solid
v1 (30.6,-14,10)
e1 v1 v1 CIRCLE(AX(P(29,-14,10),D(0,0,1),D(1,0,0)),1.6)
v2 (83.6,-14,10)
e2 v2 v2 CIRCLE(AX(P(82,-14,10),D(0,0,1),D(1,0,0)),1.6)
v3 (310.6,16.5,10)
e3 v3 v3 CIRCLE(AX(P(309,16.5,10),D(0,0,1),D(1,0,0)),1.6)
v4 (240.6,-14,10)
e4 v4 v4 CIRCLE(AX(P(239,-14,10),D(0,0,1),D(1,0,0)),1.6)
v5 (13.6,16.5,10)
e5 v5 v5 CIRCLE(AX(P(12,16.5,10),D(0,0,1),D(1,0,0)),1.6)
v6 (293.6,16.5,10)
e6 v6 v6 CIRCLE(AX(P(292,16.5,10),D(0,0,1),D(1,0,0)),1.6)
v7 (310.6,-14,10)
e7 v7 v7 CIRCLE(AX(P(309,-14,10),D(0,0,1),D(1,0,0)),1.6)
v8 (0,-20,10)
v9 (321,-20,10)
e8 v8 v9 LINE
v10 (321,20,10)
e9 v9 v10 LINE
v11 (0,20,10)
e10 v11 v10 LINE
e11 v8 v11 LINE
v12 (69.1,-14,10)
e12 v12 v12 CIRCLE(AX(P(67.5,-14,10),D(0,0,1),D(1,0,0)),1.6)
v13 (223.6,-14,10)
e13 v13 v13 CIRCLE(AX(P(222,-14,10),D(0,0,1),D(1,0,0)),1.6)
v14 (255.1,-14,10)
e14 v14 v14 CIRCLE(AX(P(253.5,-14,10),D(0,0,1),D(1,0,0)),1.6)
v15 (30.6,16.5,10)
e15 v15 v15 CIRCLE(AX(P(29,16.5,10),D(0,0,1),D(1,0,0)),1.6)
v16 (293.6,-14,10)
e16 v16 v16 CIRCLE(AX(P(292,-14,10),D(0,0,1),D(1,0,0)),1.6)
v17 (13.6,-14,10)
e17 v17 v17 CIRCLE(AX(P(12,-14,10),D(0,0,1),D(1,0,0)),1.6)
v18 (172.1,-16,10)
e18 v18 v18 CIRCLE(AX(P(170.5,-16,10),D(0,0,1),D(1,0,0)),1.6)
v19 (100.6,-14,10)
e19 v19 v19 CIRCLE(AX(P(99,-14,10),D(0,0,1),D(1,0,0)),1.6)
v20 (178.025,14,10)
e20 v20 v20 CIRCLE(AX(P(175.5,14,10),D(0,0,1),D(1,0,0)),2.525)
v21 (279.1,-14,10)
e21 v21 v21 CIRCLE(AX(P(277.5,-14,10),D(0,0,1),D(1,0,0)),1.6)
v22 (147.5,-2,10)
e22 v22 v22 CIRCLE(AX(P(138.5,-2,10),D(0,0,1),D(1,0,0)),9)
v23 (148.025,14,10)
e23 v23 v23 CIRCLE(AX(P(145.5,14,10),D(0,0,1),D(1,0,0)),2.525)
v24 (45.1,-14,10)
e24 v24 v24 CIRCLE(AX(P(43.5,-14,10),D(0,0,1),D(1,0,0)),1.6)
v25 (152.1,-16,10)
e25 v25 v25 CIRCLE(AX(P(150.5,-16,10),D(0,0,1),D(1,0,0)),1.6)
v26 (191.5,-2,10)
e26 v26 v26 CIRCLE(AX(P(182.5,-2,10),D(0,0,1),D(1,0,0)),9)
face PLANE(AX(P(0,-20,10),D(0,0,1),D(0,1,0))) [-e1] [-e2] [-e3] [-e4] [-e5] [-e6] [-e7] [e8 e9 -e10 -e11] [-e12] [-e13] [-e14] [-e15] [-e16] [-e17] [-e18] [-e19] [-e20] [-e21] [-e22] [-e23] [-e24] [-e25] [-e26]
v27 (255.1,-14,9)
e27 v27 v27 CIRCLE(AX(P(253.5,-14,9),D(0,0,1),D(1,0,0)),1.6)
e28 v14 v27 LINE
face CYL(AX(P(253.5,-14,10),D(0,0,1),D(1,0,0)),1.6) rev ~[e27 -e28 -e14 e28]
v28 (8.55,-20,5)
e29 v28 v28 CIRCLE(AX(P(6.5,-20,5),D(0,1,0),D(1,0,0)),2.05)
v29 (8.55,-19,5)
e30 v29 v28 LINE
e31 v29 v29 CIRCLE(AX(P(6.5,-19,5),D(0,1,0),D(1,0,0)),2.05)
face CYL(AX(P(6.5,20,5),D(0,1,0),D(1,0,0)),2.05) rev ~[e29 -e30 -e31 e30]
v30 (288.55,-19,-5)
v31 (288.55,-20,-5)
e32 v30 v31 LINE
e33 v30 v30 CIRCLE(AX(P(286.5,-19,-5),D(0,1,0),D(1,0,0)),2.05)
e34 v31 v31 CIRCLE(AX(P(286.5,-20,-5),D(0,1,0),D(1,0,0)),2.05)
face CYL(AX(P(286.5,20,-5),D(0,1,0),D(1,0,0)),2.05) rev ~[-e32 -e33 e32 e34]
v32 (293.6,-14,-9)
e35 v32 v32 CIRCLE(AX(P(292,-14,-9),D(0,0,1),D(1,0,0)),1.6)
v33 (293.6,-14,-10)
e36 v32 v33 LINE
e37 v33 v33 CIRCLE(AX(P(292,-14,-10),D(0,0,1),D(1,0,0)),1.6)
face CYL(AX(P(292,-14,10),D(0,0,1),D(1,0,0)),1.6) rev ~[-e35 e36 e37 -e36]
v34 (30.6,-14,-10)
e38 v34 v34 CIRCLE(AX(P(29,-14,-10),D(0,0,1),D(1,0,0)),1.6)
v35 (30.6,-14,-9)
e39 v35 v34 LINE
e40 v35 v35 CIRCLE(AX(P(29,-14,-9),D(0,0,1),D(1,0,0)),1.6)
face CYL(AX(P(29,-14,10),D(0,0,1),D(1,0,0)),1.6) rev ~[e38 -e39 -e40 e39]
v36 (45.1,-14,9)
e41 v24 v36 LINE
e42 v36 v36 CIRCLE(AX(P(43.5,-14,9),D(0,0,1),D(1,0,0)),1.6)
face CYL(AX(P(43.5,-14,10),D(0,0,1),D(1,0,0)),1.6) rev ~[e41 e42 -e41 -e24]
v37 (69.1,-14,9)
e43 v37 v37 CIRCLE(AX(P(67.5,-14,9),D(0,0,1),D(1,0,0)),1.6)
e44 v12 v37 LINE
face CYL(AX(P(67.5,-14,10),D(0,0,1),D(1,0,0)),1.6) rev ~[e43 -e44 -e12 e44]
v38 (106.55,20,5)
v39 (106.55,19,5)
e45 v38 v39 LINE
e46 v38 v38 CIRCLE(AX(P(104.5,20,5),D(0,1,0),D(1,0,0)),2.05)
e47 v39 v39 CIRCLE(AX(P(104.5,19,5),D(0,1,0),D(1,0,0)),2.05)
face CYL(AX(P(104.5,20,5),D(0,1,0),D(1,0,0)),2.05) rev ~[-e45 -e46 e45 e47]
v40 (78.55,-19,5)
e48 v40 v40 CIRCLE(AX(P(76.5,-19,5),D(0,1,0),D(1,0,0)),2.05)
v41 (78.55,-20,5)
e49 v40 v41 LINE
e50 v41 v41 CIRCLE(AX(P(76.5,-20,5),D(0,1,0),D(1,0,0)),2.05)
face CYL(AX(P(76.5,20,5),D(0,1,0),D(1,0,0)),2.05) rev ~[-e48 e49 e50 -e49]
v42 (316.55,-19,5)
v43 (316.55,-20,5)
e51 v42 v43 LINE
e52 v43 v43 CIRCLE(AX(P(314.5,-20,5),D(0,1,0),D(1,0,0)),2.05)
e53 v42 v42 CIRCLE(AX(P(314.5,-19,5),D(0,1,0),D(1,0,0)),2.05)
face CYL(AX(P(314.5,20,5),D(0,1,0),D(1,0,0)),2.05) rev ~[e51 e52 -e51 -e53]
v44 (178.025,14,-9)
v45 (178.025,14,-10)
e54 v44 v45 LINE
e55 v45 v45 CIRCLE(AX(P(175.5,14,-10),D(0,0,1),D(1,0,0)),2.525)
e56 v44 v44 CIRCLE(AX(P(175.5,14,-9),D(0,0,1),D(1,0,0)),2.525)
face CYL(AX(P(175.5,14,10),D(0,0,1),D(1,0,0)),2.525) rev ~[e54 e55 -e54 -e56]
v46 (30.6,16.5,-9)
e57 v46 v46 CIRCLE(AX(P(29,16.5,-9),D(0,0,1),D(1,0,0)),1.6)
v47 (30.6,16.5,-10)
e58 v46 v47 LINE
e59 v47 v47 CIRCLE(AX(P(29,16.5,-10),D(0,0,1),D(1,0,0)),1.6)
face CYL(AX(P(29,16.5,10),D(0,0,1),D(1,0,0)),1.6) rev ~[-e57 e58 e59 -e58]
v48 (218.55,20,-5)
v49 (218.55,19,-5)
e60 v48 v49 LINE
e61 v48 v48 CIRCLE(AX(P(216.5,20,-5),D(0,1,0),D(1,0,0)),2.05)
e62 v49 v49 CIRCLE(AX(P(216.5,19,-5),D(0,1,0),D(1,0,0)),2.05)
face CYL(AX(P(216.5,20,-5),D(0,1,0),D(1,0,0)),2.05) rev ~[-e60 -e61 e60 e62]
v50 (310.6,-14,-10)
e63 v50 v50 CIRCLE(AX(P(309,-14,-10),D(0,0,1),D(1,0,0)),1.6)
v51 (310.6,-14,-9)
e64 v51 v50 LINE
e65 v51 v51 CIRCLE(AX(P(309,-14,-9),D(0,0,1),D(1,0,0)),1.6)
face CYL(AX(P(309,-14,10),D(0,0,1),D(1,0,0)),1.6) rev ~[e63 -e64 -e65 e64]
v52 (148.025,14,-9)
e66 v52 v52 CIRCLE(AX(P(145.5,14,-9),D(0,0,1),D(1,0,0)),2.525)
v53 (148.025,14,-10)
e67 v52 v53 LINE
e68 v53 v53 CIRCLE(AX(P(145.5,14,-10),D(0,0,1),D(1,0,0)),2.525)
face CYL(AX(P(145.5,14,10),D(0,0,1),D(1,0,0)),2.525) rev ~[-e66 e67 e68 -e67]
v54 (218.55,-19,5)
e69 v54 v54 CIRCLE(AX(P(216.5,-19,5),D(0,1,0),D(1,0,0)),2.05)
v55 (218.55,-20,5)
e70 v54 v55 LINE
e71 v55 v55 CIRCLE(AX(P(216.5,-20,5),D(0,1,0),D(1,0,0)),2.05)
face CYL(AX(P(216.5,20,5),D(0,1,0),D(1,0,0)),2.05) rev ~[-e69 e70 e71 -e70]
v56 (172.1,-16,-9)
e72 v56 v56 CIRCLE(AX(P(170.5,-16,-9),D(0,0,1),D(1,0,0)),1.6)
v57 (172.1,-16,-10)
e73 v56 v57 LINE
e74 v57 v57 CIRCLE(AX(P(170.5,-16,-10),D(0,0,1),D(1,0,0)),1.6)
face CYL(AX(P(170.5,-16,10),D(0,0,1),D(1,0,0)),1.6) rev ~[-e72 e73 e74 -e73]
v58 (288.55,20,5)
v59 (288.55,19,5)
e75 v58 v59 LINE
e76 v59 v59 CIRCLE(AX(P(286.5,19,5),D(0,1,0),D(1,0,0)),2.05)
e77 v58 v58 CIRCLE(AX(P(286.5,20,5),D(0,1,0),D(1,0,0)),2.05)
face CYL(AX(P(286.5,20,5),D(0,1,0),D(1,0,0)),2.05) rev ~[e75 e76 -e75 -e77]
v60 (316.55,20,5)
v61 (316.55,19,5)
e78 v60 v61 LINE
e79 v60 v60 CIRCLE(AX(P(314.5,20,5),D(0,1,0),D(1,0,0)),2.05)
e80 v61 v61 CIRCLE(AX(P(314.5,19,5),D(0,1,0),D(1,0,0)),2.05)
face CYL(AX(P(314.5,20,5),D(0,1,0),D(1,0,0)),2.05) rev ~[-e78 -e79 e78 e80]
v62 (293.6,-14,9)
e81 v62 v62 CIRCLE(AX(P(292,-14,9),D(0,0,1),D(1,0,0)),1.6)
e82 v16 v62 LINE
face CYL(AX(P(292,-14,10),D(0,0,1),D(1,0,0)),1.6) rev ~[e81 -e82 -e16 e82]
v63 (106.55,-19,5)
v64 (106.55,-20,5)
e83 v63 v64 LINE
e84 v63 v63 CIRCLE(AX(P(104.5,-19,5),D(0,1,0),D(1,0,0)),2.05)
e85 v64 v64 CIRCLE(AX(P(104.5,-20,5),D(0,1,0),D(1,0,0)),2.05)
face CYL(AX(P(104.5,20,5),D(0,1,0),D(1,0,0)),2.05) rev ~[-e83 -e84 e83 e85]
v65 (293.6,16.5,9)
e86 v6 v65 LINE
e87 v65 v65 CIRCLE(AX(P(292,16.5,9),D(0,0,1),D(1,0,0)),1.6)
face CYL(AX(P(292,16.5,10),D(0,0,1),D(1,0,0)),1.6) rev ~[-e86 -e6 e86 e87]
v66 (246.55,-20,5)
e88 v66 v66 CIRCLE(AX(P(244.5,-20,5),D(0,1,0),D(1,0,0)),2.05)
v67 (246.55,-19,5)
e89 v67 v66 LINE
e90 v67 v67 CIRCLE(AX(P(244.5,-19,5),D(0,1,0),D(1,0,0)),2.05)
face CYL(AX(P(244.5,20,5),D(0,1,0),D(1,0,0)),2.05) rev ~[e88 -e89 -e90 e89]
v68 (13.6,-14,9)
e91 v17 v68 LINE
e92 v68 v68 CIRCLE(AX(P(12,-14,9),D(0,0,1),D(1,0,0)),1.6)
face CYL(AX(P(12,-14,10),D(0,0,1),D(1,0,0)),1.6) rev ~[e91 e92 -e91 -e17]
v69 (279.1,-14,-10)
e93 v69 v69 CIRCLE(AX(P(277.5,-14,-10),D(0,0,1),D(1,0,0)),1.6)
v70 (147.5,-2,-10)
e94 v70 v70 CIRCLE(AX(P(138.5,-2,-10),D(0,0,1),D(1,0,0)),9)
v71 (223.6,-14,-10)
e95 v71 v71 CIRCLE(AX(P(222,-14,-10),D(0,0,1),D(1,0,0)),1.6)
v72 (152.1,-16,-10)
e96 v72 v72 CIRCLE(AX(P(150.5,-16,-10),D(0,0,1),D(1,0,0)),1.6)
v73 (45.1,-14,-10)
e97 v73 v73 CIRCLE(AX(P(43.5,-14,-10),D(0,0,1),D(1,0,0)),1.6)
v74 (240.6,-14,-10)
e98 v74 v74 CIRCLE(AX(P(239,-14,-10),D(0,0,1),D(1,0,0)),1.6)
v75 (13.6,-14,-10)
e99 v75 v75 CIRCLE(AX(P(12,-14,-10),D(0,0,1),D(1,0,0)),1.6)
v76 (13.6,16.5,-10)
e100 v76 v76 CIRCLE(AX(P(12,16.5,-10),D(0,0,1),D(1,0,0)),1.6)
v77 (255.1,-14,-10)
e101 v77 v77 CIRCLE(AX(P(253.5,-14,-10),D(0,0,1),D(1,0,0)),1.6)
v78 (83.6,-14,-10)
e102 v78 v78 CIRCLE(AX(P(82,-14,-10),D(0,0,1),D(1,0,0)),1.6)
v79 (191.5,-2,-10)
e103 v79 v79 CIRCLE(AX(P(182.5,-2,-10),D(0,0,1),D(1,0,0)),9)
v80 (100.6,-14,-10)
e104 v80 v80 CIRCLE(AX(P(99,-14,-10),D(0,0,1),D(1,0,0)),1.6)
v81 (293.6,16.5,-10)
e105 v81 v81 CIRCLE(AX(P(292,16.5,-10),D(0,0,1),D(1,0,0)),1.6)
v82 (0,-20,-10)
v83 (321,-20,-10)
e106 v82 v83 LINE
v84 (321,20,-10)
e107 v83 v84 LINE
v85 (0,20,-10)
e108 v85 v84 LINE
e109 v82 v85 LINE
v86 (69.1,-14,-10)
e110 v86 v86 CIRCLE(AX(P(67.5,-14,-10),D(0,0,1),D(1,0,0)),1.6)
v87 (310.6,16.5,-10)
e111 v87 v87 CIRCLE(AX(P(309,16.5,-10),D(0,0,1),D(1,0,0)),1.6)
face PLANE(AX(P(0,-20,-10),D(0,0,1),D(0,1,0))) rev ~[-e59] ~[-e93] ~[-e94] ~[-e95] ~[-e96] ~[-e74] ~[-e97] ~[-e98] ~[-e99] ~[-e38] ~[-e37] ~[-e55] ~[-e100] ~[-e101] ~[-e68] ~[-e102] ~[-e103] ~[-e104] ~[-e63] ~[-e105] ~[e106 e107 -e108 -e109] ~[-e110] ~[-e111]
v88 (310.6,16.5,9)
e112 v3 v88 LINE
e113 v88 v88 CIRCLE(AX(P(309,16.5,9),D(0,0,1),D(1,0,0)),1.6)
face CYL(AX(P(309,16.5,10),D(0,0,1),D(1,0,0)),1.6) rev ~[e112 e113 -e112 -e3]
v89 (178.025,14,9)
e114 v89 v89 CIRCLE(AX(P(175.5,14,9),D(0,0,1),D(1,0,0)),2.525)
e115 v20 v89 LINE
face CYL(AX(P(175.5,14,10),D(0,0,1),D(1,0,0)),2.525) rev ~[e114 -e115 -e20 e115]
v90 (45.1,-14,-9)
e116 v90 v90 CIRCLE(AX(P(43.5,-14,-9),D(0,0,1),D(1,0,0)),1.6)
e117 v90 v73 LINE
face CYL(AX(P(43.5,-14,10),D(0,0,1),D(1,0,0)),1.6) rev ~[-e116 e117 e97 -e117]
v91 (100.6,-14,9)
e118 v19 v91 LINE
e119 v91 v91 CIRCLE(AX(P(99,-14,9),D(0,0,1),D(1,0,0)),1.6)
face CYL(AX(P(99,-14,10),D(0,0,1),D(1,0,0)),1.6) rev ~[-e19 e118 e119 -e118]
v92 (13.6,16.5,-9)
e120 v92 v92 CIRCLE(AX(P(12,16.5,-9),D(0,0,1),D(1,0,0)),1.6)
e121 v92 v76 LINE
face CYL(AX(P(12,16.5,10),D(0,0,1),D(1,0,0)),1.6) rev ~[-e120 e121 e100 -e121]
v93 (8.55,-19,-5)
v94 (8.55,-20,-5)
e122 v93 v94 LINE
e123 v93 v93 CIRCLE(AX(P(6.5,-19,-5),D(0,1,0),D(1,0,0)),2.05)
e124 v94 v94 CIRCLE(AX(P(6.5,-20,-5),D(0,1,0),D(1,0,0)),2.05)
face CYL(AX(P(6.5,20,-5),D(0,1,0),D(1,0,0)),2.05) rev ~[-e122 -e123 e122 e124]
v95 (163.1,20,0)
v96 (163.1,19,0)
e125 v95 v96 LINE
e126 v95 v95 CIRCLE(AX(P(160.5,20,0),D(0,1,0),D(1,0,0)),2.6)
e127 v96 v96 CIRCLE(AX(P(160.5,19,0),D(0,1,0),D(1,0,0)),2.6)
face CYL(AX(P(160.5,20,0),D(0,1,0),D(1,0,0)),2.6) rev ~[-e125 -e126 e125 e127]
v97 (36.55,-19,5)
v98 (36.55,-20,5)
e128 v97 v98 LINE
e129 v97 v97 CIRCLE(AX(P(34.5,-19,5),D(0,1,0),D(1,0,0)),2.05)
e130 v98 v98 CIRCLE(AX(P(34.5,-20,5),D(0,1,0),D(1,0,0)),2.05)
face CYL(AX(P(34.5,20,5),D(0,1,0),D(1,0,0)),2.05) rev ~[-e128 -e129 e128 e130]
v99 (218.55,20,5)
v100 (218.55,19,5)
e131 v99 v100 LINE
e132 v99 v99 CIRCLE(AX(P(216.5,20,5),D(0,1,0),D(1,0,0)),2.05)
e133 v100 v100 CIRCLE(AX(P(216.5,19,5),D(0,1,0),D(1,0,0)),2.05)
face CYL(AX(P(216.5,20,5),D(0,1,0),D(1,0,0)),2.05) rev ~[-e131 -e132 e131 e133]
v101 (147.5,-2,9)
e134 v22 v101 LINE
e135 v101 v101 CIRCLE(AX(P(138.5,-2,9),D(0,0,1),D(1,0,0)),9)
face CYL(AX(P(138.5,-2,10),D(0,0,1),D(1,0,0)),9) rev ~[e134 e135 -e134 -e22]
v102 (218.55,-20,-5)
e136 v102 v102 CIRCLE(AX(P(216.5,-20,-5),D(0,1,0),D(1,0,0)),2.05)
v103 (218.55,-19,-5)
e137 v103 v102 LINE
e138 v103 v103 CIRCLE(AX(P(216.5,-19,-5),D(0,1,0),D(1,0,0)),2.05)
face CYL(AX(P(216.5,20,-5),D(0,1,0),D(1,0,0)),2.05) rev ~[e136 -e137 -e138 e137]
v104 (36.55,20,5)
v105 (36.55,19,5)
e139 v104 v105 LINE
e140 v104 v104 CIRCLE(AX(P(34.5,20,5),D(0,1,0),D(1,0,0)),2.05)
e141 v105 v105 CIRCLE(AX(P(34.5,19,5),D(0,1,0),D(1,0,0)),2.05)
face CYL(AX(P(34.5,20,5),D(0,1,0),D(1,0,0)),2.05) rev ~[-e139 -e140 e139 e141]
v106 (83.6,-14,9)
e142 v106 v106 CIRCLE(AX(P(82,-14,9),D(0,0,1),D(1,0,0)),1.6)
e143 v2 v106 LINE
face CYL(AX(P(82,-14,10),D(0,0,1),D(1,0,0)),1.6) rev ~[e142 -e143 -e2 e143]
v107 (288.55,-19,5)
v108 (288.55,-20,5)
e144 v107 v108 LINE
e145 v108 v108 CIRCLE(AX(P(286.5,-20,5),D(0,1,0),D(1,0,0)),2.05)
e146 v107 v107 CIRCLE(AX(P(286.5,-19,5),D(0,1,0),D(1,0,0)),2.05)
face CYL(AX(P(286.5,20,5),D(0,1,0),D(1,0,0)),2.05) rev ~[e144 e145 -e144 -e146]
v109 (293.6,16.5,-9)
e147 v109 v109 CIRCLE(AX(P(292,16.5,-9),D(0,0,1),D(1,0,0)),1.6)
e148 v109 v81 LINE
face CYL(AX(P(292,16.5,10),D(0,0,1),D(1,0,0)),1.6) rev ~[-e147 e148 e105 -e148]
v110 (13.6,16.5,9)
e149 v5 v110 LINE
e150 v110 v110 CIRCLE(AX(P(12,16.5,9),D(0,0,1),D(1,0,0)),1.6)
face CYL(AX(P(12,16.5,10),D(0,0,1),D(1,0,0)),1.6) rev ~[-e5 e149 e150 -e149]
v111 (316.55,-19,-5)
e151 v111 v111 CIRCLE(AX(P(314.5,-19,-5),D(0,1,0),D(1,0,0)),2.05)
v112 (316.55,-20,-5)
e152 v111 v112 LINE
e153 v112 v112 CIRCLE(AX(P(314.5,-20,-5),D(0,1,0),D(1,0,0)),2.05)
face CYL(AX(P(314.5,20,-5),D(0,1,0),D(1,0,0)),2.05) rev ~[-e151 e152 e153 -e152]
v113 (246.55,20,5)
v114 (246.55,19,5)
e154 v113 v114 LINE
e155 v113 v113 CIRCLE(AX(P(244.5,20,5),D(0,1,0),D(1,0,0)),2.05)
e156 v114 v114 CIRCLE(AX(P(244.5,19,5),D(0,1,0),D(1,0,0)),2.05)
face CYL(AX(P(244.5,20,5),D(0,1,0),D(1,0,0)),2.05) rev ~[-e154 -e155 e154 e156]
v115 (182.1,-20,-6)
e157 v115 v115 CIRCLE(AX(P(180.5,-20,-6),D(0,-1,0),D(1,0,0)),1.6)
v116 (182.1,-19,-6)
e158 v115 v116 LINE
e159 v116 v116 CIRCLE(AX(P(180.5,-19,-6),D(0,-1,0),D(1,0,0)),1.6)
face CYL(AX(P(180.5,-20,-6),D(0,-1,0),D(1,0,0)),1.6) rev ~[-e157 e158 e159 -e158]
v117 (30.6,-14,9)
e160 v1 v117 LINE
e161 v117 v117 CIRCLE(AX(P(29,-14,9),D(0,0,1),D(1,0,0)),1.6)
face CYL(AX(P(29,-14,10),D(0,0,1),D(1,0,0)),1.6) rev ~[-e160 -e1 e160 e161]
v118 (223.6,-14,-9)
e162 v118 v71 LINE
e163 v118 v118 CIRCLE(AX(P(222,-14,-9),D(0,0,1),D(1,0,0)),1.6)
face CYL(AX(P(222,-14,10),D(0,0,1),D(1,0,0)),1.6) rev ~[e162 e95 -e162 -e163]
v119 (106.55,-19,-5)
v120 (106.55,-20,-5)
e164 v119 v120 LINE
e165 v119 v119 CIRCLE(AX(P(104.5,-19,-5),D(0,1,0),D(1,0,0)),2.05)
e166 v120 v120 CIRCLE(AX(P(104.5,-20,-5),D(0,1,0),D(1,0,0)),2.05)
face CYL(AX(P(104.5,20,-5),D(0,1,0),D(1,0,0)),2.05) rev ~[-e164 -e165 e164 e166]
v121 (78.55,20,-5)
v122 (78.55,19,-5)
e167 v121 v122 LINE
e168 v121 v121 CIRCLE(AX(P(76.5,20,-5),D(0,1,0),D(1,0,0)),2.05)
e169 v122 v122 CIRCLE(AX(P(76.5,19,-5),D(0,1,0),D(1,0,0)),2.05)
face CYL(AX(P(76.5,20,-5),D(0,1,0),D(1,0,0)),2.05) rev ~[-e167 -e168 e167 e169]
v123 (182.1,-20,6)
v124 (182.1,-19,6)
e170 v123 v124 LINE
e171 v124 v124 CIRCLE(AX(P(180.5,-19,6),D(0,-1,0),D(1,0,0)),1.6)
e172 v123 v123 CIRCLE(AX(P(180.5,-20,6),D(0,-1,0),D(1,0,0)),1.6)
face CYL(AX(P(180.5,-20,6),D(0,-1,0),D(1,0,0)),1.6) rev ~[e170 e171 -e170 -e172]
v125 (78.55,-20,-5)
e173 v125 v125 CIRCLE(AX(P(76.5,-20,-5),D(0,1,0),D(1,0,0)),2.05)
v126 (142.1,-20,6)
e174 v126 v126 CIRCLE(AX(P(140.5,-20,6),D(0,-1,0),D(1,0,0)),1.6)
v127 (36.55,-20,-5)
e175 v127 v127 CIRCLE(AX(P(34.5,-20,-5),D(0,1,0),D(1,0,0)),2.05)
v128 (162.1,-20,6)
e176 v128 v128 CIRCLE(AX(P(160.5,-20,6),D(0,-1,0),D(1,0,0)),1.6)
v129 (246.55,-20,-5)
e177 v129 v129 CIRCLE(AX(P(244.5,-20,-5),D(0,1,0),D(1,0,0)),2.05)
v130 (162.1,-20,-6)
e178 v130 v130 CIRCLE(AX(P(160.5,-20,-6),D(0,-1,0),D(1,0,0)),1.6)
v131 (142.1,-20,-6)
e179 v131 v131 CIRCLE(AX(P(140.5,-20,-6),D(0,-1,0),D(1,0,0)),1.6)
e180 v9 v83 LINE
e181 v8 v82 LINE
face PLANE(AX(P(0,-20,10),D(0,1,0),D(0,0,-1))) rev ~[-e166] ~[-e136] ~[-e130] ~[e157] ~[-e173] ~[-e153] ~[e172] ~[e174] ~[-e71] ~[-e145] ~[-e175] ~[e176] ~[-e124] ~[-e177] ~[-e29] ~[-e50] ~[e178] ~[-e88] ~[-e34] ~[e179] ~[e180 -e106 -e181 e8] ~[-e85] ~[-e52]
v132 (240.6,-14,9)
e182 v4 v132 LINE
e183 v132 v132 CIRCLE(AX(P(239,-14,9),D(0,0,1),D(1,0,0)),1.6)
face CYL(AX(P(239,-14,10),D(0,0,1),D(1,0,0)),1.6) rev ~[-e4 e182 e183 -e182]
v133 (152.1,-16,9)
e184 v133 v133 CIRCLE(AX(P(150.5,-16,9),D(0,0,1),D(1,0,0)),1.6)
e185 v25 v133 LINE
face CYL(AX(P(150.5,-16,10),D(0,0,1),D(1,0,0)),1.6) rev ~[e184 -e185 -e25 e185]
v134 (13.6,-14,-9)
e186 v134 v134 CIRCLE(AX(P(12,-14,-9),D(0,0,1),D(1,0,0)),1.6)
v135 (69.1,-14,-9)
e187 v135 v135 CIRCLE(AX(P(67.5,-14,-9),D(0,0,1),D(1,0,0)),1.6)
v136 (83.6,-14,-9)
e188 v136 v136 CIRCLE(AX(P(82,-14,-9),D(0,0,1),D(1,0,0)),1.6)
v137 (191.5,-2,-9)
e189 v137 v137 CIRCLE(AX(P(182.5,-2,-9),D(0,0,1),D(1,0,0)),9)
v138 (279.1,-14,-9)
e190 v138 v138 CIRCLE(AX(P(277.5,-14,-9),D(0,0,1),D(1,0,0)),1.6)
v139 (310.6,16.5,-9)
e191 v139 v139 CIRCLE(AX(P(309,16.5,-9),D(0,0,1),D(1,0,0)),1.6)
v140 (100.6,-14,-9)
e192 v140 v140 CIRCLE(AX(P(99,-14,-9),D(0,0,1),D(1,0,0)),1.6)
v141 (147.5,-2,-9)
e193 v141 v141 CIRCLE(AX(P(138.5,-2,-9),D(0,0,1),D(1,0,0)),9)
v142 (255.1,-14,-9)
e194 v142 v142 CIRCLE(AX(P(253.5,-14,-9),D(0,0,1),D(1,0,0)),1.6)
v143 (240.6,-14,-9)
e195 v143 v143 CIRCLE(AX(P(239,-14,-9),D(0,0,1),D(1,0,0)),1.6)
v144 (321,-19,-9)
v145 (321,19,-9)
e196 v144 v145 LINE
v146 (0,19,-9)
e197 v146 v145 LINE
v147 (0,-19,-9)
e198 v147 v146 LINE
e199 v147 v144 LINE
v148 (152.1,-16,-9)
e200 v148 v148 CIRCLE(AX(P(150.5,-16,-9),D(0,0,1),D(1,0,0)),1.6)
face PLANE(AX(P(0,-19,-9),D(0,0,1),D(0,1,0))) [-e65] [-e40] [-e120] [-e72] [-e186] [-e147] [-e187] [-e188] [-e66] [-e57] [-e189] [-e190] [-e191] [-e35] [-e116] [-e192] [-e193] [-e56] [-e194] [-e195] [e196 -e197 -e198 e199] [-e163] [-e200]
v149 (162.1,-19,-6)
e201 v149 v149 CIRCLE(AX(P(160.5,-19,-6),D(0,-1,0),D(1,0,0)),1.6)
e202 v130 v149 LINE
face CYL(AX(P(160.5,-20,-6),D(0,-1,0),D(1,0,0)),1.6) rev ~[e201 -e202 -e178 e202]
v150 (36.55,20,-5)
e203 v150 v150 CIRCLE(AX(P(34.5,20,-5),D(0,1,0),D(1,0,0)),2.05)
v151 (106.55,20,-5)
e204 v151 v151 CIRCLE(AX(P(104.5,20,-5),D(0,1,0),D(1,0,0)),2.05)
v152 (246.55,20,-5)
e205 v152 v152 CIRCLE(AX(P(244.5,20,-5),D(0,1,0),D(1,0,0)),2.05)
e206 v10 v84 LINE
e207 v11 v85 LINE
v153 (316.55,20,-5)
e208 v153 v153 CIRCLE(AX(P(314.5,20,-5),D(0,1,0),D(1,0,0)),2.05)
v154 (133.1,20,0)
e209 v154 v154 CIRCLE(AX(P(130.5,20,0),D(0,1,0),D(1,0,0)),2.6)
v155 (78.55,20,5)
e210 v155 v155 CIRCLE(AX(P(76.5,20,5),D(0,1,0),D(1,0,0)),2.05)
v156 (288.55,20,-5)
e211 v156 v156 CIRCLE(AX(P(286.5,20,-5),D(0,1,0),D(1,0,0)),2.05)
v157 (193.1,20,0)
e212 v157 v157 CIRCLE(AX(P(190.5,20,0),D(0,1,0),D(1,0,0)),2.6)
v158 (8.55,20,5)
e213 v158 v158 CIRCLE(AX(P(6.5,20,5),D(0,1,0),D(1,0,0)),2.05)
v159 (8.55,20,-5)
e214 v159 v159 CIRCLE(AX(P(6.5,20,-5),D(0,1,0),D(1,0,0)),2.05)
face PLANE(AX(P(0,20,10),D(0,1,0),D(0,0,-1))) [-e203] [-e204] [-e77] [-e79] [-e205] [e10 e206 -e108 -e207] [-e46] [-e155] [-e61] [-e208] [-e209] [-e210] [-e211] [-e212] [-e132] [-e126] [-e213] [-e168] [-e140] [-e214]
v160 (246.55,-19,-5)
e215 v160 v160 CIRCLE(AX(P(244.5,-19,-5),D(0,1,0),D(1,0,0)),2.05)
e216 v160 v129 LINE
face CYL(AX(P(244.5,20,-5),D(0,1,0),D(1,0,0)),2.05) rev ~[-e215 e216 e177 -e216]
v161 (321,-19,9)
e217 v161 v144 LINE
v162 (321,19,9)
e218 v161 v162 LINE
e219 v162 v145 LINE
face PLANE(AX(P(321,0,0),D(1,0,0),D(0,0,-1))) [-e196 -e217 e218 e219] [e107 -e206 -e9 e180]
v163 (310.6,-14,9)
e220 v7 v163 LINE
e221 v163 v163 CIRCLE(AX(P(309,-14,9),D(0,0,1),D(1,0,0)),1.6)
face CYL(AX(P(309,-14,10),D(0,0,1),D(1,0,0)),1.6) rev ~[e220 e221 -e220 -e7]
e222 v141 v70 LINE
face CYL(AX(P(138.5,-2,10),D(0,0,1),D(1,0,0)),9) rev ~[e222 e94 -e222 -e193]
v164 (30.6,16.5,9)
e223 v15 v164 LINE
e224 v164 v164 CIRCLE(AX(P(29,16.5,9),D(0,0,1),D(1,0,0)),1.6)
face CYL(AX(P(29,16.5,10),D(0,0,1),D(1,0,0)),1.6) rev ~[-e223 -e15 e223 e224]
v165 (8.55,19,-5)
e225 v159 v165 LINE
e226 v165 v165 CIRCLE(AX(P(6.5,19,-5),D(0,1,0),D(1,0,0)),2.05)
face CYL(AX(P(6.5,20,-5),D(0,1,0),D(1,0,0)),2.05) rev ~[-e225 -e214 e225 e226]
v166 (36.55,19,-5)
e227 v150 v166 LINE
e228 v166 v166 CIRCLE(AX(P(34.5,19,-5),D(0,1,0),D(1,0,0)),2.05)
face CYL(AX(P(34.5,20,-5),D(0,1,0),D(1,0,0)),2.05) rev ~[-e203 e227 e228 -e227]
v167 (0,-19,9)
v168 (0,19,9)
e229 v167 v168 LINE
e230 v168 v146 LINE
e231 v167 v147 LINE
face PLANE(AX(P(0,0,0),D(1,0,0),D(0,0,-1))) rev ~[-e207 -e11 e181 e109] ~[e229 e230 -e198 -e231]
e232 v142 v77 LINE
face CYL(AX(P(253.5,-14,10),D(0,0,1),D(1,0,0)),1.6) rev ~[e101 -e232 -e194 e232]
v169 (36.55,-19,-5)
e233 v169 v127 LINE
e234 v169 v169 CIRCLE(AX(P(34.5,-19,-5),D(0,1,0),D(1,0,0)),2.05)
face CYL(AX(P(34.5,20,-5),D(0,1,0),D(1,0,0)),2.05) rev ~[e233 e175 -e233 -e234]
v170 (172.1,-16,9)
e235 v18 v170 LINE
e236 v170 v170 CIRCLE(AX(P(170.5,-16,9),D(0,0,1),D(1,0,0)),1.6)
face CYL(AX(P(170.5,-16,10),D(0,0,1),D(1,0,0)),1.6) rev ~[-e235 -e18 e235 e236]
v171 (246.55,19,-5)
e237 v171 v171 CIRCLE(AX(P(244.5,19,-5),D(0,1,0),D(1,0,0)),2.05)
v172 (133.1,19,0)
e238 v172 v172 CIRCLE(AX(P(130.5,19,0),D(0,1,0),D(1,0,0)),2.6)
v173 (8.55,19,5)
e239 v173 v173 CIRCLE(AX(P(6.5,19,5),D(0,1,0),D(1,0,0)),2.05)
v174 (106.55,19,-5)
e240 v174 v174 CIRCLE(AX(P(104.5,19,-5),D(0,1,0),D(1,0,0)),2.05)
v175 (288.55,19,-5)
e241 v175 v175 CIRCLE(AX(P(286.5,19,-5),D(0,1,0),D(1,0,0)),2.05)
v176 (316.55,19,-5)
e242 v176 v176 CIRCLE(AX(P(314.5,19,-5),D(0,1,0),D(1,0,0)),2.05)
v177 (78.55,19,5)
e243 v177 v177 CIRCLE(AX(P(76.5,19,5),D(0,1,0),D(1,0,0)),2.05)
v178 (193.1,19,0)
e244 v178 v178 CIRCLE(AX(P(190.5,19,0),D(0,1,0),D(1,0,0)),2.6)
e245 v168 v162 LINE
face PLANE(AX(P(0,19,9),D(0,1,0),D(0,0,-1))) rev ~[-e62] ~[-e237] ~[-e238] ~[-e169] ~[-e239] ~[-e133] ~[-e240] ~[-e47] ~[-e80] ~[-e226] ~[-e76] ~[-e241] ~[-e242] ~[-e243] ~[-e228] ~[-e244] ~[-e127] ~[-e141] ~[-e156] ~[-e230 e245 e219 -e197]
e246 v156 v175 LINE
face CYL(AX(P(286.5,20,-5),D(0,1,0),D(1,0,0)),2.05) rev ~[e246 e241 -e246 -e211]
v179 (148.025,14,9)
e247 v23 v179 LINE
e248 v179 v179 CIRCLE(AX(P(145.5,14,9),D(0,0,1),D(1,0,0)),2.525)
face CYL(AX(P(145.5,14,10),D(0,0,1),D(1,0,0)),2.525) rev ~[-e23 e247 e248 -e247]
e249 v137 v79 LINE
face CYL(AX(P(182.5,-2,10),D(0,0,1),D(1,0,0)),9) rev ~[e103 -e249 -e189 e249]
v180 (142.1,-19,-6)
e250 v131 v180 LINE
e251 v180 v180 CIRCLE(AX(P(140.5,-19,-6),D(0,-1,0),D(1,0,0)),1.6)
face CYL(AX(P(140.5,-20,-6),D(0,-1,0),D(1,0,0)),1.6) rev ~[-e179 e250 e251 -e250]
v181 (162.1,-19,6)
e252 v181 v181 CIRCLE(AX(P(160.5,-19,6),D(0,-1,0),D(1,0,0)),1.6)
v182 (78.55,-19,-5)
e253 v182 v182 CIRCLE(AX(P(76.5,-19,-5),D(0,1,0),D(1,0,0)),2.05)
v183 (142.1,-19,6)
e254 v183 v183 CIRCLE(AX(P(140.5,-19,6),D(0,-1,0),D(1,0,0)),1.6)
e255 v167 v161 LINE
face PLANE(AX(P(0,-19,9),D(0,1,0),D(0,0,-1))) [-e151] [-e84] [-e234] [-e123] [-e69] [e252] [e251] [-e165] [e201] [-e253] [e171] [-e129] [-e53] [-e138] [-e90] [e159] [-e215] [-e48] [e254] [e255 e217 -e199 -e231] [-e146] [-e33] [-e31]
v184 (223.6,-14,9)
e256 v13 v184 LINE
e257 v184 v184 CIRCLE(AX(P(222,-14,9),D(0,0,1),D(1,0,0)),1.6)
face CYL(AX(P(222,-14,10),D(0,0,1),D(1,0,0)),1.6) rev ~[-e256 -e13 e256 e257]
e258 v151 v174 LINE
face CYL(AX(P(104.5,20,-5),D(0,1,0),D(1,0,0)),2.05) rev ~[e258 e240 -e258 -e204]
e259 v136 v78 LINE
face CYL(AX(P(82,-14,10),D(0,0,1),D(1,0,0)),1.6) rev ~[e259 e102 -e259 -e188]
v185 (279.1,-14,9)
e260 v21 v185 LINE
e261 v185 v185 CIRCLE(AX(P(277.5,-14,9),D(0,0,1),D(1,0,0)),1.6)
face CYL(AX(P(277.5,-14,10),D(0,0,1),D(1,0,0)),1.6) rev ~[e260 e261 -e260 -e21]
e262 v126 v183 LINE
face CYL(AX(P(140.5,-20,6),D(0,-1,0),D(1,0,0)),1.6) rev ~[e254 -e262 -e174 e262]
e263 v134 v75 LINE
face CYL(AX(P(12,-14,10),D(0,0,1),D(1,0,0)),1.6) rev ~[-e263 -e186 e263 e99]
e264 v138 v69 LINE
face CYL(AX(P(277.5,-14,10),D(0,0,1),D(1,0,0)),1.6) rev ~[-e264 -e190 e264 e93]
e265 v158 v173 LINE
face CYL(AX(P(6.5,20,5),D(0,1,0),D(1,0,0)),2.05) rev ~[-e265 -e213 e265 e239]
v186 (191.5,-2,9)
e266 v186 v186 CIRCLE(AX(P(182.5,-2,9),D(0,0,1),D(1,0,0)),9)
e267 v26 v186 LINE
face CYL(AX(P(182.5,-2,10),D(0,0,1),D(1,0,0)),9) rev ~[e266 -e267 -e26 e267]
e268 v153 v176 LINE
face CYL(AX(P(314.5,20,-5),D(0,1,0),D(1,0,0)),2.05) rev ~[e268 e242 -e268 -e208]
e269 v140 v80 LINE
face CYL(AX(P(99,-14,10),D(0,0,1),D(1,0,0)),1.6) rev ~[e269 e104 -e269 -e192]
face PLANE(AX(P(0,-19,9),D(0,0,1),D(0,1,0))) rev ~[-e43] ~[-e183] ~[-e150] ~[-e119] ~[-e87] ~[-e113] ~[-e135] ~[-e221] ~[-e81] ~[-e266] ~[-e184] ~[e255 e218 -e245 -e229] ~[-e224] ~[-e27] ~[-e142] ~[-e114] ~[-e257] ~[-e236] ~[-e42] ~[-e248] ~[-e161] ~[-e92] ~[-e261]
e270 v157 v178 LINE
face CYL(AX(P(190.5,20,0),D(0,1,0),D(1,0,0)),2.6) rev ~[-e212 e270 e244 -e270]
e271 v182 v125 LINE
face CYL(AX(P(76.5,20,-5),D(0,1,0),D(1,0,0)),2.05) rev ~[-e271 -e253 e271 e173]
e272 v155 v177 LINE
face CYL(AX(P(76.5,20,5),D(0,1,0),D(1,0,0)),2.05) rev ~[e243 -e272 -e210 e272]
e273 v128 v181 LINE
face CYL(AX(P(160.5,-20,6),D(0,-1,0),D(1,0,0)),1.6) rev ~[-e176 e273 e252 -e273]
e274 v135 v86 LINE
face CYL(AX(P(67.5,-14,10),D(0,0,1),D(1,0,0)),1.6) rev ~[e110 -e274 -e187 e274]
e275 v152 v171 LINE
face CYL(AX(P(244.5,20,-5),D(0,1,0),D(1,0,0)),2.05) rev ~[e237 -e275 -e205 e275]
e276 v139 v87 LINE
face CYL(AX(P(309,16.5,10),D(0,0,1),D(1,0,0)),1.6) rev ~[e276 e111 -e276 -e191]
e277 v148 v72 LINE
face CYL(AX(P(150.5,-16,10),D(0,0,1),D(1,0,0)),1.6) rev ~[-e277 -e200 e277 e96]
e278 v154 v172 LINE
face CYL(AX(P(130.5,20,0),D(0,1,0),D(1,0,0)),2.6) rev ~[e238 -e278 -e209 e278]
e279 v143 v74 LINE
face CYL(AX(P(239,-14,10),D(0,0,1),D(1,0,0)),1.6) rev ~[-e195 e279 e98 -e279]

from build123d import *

# Parameters (mm, degrees)
SKETCH_1_W           = 20
SKETCH_1_H           = 40
SKETCH_1_W_2         = 18
SKETCH_1_H_2         = 38
EXTRUDE_1_DEPTH      = 321
SKETCH_2_R           = 2.05
CUT_EXTRUDE_1_DEPTH  = 41
CUT_EXTRUDE_5_REACH  = 42
SKETCH_6_R           = 1.6
CUT_EXTRUDE_9_REACH  = 42
SKETCH_12_R          = 2.6
SKETCH_14_R          = 2.05
CUT_EXTRUDE_11_DEPTH = 41
SKETCH_15_R          = 2.525
CUT_EXTRUDE_12_DEPTH = 21
SKETCH_17_R          = 1.6
CUT_EXTRUDE_13_DEPTH = 21
SKETCH_18_R          = 9
CUT_EXTRUDE_14_DEPTH = 21


with BuildPart() as part:
    # 草图1 → 凸台-拉伸1 (new body)
    with BuildSketch(Plane(origin=(0, 0, 0), x_dir=(0, 0, -1), z_dir=(1, 0, 0))):
        Rectangle(SKETCH_1_W, SKETCH_1_H)
        Rectangle(SKETCH_1_W_2, SKETCH_1_H_2, mode=Mode.SUBTRACT)
    extrude(amount=EXTRUDE_1_DEPTH)

    # 草图2 → 切除-拉伸1 (cut, through all)
    with BuildSketch(Plane(origin=(0, 20, 0), x_dir=(1, 0, 0), z_dir=(0, 1, 0))):
        with Locations((76.5, 5)):
            Circle(SKETCH_2_R)
        with Locations((76.5, -5)):
            Circle(SKETCH_2_R)
        with Locations((104.5, -5)):
            Circle(SKETCH_2_R)
        with Locations((104.5, 5)):
            Circle(SKETCH_2_R)
        with Locations((216.5, -5)):
            Circle(SKETCH_2_R)
        with Locations((216.5, 5)):
            Circle(SKETCH_2_R)
        with Locations((244.5, -5)):
            Circle(SKETCH_2_R)
        with Locations((244.5, 5)):
            Circle(SKETCH_2_R)
    extrude(amount=-CUT_EXTRUDE_1_DEPTH, mode=Mode.SUBTRACT)

    # 草图6 → 切除-拉伸5 (cut, up to next)
    with BuildSketch(Plane.XZ.offset(20), mode=Mode.PRIVATE) as cut_extrude_5_sk1:
        with Locations((140.5, 6)):
            Circle(SKETCH_6_R)
    cut_extrude_5_tool1 = extrude(cut_extrude_5_sk1.sketch, amount=-CUT_EXTRUDE_5_REACH, mode=Mode.PRIVATE) & part.part
    add(cut_extrude_5_tool1.solids().sort_by_distance((140.5, -20, 6))[0], mode=Mode.SUBTRACT)
    # 草图6 → 切除-拉伸5 (cut, up to next)
    with BuildSketch(Plane.XZ.offset(20), mode=Mode.PRIVATE) as cut_extrude_5_sk2:
        with Locations((160.5, 6)):
            Circle(SKETCH_6_R)
    cut_extrude_5_tool2 = extrude(cut_extrude_5_sk2.sketch, amount=-CUT_EXTRUDE_5_REACH, mode=Mode.PRIVATE) & part.part
    add(cut_extrude_5_tool2.solids().sort_by_distance((160.5, -20, 6))[0], mode=Mode.SUBTRACT)
    # 草图6 → 切除-拉伸5 (cut, up to next)
    with BuildSketch(Plane.XZ.offset(20), mode=Mode.PRIVATE) as cut_extrude_5_sk3:
        with Locations((180.5, 6)):
            Circle(SKETCH_6_R)
    cut_extrude_5_tool3 = extrude(cut_extrude_5_sk3.sketch, amount=-CUT_EXTRUDE_5_REACH, mode=Mode.PRIVATE) & part.part
    add(cut_extrude_5_tool3.solids().sort_by_distance((180.5, -20, 6))[0], mode=Mode.SUBTRACT)
    # 草图6 → 切除-拉伸5 (cut, up to next)
    with BuildSketch(Plane.XZ.offset(20), mode=Mode.PRIVATE) as cut_extrude_5_sk4:
        with Locations((180.5, -6)):
            Circle(SKETCH_6_R)
    cut_extrude_5_tool4 = extrude(cut_extrude_5_sk4.sketch, amount=-CUT_EXTRUDE_5_REACH, mode=Mode.PRIVATE) & part.part
    add(cut_extrude_5_tool4.solids().sort_by_distance((180.5, -20, -6))[0], mode=Mode.SUBTRACT)
    # 草图6 → 切除-拉伸5 (cut, up to next)
    with BuildSketch(Plane.XZ.offset(20), mode=Mode.PRIVATE) as cut_extrude_5_sk5:
        with Locations((160.5, -6)):
            Circle(SKETCH_6_R)
    cut_extrude_5_tool5 = extrude(cut_extrude_5_sk5.sketch, amount=-CUT_EXTRUDE_5_REACH, mode=Mode.PRIVATE) & part.part
    add(cut_extrude_5_tool5.solids().sort_by_distance((160.5, -20, -6))[0], mode=Mode.SUBTRACT)
    # 草图6 → 切除-拉伸5 (cut, up to next)
    with BuildSketch(Plane.XZ.offset(20), mode=Mode.PRIVATE) as cut_extrude_5_sk6:
        with Locations((140.5, -6)):
            Circle(SKETCH_6_R)
    cut_extrude_5_tool6 = extrude(cut_extrude_5_sk6.sketch, amount=-CUT_EXTRUDE_5_REACH, mode=Mode.PRIVATE) & part.part
    add(cut_extrude_5_tool6.solids().sort_by_distance((140.5, -20, -6))[0], mode=Mode.SUBTRACT)

    # 草图12 → 切除-拉伸9 (cut, up to next)
    with BuildSketch(Plane(origin=(0, 20, 0), x_dir=(1, 0, 0), z_dir=(0, 1, 0)), mode=Mode.PRIVATE) as cut_extrude_9_sk1:
        with Locations((130.5, 0)):
            Circle(SKETCH_12_R)
    cut_extrude_9_tool1 = extrude(cut_extrude_9_sk1.sketch, amount=-CUT_EXTRUDE_9_REACH, mode=Mode.PRIVATE) & part.part
    add(cut_extrude_9_tool1.solids().sort_by_distance((130.5, 20, 0))[0], mode=Mode.SUBTRACT)
    # 草图12 → 切除-拉伸9 (cut, up to next)
    with BuildSketch(Plane(origin=(0, 20, 0), x_dir=(1, 0, 0), z_dir=(0, 1, 0)), mode=Mode.PRIVATE) as cut_extrude_9_sk2:
        with Locations((160.5, 0)):
            Circle(SKETCH_12_R)
    cut_extrude_9_tool2 = extrude(cut_extrude_9_sk2.sketch, amount=-CUT_EXTRUDE_9_REACH, mode=Mode.PRIVATE) & part.part
    add(cut_extrude_9_tool2.solids().sort_by_distance((160.5, 20, 0))[0], mode=Mode.SUBTRACT)
    # 草图12 → 切除-拉伸9 (cut, up to next)
    with BuildSketch(Plane(origin=(0, 20, 0), x_dir=(1, 0, 0), z_dir=(0, 1, 0)), mode=Mode.PRIVATE) as cut_extrude_9_sk3:
        with Locations((190.5, 0)):
            Circle(SKETCH_12_R)
    cut_extrude_9_tool3 = extrude(cut_extrude_9_sk3.sketch, amount=-CUT_EXTRUDE_9_REACH, mode=Mode.PRIVATE) & part.part
    add(cut_extrude_9_tool3.solids().sort_by_distance((190.5, 20, 0))[0], mode=Mode.SUBTRACT)

    # 草图14 → 切除-拉伸11 (cut, through all)
    with BuildSketch(Plane(origin=(0, 20, 0), x_dir=(1, 0, 0), z_dir=(0, 1, 0))):
        with Locations((314.5, 5)):
            Circle(SKETCH_14_R)
        with Locations((314.5, -5)):
            Circle(SKETCH_14_R)
        with Locations((286.5, -5)):
            Circle(SKETCH_14_R)
        with Locations((286.5, 5)):
            Circle(SKETCH_14_R)
        with Locations((34.5, -5)):
            Circle(SKETCH_14_R)
        with Locations((6.5, -5)):
            Circle(SKETCH_14_R)
        with Locations((6.5, 5)):
            Circle(SKETCH_14_R)
        with Locations((34.5, 5)):
            Circle(SKETCH_14_R)
    extrude(amount=-CUT_EXTRUDE_11_DEPTH, mode=Mode.SUBTRACT)

    # 草图15 → 切除-拉伸12 (cut, through all)
    with BuildSketch(Plane.XY.offset(10)):
        with Locations((145.5, 14)):
            Circle(SKETCH_15_R)
        with Locations((175.5, 14)):
            Circle(SKETCH_15_R)
    extrude(amount=-CUT_EXTRUDE_12_DEPTH, mode=Mode.SUBTRACT)

    # 草图17 → 切除-拉伸13 (cut, through all)
    with BuildSketch(Plane.XY.offset(10)):
        with Locations((12, 16.5)):
            Circle(SKETCH_17_R)
        with Locations((29, 16.5)):
            Circle(SKETCH_17_R)
        with Locations((12, -14)):
            Circle(SKETCH_17_R)
        with Locations((29, -14)):
            Circle(SKETCH_17_R)
        with Locations((43.5, -14)):
            Circle(SKETCH_17_R)
        with Locations((67.5, -14)):
            Circle(SKETCH_17_R)
        with Locations((222, -14)):
            Circle(SKETCH_17_R)
        with Locations((239, -14)):
            Circle(SKETCH_17_R)
        with Locations((253.5, -14)):
            Circle(SKETCH_17_R)
        with Locations((277.5, -14)):
            Circle(SKETCH_17_R)
        with Locations((292, -14)):
            Circle(SKETCH_17_R)
        with Locations((309, -14)):
            Circle(SKETCH_17_R)
        with Locations((82, -14)):
            Circle(SKETCH_17_R)
        with Locations((99, -14)):
            Circle(SKETCH_17_R)
        with Locations((292, 16.5)):
            Circle(SKETCH_17_R)
        with Locations((309, 16.5)):
            Circle(SKETCH_17_R)
        with Locations((150.5, -16)):
            Circle(SKETCH_17_R)
        with Locations((170.5, -16)):
            Circle(SKETCH_17_R)
    extrude(amount=-CUT_EXTRUDE_13_DEPTH, mode=Mode.SUBTRACT)

    # 草图18 → 切除-拉伸14 (cut, through all)
    with BuildSketch(Plane.XY.offset(10)):
        with Locations((138.5, -2)):
            Circle(SKETCH_18_R)
        with Locations((182.5, -2)):
            Circle(SKETCH_18_R)
    extrude(amount=-CUT_EXTRUDE_14_DEPTH, mode=Mode.SUBTRACT)


solid = part.part
